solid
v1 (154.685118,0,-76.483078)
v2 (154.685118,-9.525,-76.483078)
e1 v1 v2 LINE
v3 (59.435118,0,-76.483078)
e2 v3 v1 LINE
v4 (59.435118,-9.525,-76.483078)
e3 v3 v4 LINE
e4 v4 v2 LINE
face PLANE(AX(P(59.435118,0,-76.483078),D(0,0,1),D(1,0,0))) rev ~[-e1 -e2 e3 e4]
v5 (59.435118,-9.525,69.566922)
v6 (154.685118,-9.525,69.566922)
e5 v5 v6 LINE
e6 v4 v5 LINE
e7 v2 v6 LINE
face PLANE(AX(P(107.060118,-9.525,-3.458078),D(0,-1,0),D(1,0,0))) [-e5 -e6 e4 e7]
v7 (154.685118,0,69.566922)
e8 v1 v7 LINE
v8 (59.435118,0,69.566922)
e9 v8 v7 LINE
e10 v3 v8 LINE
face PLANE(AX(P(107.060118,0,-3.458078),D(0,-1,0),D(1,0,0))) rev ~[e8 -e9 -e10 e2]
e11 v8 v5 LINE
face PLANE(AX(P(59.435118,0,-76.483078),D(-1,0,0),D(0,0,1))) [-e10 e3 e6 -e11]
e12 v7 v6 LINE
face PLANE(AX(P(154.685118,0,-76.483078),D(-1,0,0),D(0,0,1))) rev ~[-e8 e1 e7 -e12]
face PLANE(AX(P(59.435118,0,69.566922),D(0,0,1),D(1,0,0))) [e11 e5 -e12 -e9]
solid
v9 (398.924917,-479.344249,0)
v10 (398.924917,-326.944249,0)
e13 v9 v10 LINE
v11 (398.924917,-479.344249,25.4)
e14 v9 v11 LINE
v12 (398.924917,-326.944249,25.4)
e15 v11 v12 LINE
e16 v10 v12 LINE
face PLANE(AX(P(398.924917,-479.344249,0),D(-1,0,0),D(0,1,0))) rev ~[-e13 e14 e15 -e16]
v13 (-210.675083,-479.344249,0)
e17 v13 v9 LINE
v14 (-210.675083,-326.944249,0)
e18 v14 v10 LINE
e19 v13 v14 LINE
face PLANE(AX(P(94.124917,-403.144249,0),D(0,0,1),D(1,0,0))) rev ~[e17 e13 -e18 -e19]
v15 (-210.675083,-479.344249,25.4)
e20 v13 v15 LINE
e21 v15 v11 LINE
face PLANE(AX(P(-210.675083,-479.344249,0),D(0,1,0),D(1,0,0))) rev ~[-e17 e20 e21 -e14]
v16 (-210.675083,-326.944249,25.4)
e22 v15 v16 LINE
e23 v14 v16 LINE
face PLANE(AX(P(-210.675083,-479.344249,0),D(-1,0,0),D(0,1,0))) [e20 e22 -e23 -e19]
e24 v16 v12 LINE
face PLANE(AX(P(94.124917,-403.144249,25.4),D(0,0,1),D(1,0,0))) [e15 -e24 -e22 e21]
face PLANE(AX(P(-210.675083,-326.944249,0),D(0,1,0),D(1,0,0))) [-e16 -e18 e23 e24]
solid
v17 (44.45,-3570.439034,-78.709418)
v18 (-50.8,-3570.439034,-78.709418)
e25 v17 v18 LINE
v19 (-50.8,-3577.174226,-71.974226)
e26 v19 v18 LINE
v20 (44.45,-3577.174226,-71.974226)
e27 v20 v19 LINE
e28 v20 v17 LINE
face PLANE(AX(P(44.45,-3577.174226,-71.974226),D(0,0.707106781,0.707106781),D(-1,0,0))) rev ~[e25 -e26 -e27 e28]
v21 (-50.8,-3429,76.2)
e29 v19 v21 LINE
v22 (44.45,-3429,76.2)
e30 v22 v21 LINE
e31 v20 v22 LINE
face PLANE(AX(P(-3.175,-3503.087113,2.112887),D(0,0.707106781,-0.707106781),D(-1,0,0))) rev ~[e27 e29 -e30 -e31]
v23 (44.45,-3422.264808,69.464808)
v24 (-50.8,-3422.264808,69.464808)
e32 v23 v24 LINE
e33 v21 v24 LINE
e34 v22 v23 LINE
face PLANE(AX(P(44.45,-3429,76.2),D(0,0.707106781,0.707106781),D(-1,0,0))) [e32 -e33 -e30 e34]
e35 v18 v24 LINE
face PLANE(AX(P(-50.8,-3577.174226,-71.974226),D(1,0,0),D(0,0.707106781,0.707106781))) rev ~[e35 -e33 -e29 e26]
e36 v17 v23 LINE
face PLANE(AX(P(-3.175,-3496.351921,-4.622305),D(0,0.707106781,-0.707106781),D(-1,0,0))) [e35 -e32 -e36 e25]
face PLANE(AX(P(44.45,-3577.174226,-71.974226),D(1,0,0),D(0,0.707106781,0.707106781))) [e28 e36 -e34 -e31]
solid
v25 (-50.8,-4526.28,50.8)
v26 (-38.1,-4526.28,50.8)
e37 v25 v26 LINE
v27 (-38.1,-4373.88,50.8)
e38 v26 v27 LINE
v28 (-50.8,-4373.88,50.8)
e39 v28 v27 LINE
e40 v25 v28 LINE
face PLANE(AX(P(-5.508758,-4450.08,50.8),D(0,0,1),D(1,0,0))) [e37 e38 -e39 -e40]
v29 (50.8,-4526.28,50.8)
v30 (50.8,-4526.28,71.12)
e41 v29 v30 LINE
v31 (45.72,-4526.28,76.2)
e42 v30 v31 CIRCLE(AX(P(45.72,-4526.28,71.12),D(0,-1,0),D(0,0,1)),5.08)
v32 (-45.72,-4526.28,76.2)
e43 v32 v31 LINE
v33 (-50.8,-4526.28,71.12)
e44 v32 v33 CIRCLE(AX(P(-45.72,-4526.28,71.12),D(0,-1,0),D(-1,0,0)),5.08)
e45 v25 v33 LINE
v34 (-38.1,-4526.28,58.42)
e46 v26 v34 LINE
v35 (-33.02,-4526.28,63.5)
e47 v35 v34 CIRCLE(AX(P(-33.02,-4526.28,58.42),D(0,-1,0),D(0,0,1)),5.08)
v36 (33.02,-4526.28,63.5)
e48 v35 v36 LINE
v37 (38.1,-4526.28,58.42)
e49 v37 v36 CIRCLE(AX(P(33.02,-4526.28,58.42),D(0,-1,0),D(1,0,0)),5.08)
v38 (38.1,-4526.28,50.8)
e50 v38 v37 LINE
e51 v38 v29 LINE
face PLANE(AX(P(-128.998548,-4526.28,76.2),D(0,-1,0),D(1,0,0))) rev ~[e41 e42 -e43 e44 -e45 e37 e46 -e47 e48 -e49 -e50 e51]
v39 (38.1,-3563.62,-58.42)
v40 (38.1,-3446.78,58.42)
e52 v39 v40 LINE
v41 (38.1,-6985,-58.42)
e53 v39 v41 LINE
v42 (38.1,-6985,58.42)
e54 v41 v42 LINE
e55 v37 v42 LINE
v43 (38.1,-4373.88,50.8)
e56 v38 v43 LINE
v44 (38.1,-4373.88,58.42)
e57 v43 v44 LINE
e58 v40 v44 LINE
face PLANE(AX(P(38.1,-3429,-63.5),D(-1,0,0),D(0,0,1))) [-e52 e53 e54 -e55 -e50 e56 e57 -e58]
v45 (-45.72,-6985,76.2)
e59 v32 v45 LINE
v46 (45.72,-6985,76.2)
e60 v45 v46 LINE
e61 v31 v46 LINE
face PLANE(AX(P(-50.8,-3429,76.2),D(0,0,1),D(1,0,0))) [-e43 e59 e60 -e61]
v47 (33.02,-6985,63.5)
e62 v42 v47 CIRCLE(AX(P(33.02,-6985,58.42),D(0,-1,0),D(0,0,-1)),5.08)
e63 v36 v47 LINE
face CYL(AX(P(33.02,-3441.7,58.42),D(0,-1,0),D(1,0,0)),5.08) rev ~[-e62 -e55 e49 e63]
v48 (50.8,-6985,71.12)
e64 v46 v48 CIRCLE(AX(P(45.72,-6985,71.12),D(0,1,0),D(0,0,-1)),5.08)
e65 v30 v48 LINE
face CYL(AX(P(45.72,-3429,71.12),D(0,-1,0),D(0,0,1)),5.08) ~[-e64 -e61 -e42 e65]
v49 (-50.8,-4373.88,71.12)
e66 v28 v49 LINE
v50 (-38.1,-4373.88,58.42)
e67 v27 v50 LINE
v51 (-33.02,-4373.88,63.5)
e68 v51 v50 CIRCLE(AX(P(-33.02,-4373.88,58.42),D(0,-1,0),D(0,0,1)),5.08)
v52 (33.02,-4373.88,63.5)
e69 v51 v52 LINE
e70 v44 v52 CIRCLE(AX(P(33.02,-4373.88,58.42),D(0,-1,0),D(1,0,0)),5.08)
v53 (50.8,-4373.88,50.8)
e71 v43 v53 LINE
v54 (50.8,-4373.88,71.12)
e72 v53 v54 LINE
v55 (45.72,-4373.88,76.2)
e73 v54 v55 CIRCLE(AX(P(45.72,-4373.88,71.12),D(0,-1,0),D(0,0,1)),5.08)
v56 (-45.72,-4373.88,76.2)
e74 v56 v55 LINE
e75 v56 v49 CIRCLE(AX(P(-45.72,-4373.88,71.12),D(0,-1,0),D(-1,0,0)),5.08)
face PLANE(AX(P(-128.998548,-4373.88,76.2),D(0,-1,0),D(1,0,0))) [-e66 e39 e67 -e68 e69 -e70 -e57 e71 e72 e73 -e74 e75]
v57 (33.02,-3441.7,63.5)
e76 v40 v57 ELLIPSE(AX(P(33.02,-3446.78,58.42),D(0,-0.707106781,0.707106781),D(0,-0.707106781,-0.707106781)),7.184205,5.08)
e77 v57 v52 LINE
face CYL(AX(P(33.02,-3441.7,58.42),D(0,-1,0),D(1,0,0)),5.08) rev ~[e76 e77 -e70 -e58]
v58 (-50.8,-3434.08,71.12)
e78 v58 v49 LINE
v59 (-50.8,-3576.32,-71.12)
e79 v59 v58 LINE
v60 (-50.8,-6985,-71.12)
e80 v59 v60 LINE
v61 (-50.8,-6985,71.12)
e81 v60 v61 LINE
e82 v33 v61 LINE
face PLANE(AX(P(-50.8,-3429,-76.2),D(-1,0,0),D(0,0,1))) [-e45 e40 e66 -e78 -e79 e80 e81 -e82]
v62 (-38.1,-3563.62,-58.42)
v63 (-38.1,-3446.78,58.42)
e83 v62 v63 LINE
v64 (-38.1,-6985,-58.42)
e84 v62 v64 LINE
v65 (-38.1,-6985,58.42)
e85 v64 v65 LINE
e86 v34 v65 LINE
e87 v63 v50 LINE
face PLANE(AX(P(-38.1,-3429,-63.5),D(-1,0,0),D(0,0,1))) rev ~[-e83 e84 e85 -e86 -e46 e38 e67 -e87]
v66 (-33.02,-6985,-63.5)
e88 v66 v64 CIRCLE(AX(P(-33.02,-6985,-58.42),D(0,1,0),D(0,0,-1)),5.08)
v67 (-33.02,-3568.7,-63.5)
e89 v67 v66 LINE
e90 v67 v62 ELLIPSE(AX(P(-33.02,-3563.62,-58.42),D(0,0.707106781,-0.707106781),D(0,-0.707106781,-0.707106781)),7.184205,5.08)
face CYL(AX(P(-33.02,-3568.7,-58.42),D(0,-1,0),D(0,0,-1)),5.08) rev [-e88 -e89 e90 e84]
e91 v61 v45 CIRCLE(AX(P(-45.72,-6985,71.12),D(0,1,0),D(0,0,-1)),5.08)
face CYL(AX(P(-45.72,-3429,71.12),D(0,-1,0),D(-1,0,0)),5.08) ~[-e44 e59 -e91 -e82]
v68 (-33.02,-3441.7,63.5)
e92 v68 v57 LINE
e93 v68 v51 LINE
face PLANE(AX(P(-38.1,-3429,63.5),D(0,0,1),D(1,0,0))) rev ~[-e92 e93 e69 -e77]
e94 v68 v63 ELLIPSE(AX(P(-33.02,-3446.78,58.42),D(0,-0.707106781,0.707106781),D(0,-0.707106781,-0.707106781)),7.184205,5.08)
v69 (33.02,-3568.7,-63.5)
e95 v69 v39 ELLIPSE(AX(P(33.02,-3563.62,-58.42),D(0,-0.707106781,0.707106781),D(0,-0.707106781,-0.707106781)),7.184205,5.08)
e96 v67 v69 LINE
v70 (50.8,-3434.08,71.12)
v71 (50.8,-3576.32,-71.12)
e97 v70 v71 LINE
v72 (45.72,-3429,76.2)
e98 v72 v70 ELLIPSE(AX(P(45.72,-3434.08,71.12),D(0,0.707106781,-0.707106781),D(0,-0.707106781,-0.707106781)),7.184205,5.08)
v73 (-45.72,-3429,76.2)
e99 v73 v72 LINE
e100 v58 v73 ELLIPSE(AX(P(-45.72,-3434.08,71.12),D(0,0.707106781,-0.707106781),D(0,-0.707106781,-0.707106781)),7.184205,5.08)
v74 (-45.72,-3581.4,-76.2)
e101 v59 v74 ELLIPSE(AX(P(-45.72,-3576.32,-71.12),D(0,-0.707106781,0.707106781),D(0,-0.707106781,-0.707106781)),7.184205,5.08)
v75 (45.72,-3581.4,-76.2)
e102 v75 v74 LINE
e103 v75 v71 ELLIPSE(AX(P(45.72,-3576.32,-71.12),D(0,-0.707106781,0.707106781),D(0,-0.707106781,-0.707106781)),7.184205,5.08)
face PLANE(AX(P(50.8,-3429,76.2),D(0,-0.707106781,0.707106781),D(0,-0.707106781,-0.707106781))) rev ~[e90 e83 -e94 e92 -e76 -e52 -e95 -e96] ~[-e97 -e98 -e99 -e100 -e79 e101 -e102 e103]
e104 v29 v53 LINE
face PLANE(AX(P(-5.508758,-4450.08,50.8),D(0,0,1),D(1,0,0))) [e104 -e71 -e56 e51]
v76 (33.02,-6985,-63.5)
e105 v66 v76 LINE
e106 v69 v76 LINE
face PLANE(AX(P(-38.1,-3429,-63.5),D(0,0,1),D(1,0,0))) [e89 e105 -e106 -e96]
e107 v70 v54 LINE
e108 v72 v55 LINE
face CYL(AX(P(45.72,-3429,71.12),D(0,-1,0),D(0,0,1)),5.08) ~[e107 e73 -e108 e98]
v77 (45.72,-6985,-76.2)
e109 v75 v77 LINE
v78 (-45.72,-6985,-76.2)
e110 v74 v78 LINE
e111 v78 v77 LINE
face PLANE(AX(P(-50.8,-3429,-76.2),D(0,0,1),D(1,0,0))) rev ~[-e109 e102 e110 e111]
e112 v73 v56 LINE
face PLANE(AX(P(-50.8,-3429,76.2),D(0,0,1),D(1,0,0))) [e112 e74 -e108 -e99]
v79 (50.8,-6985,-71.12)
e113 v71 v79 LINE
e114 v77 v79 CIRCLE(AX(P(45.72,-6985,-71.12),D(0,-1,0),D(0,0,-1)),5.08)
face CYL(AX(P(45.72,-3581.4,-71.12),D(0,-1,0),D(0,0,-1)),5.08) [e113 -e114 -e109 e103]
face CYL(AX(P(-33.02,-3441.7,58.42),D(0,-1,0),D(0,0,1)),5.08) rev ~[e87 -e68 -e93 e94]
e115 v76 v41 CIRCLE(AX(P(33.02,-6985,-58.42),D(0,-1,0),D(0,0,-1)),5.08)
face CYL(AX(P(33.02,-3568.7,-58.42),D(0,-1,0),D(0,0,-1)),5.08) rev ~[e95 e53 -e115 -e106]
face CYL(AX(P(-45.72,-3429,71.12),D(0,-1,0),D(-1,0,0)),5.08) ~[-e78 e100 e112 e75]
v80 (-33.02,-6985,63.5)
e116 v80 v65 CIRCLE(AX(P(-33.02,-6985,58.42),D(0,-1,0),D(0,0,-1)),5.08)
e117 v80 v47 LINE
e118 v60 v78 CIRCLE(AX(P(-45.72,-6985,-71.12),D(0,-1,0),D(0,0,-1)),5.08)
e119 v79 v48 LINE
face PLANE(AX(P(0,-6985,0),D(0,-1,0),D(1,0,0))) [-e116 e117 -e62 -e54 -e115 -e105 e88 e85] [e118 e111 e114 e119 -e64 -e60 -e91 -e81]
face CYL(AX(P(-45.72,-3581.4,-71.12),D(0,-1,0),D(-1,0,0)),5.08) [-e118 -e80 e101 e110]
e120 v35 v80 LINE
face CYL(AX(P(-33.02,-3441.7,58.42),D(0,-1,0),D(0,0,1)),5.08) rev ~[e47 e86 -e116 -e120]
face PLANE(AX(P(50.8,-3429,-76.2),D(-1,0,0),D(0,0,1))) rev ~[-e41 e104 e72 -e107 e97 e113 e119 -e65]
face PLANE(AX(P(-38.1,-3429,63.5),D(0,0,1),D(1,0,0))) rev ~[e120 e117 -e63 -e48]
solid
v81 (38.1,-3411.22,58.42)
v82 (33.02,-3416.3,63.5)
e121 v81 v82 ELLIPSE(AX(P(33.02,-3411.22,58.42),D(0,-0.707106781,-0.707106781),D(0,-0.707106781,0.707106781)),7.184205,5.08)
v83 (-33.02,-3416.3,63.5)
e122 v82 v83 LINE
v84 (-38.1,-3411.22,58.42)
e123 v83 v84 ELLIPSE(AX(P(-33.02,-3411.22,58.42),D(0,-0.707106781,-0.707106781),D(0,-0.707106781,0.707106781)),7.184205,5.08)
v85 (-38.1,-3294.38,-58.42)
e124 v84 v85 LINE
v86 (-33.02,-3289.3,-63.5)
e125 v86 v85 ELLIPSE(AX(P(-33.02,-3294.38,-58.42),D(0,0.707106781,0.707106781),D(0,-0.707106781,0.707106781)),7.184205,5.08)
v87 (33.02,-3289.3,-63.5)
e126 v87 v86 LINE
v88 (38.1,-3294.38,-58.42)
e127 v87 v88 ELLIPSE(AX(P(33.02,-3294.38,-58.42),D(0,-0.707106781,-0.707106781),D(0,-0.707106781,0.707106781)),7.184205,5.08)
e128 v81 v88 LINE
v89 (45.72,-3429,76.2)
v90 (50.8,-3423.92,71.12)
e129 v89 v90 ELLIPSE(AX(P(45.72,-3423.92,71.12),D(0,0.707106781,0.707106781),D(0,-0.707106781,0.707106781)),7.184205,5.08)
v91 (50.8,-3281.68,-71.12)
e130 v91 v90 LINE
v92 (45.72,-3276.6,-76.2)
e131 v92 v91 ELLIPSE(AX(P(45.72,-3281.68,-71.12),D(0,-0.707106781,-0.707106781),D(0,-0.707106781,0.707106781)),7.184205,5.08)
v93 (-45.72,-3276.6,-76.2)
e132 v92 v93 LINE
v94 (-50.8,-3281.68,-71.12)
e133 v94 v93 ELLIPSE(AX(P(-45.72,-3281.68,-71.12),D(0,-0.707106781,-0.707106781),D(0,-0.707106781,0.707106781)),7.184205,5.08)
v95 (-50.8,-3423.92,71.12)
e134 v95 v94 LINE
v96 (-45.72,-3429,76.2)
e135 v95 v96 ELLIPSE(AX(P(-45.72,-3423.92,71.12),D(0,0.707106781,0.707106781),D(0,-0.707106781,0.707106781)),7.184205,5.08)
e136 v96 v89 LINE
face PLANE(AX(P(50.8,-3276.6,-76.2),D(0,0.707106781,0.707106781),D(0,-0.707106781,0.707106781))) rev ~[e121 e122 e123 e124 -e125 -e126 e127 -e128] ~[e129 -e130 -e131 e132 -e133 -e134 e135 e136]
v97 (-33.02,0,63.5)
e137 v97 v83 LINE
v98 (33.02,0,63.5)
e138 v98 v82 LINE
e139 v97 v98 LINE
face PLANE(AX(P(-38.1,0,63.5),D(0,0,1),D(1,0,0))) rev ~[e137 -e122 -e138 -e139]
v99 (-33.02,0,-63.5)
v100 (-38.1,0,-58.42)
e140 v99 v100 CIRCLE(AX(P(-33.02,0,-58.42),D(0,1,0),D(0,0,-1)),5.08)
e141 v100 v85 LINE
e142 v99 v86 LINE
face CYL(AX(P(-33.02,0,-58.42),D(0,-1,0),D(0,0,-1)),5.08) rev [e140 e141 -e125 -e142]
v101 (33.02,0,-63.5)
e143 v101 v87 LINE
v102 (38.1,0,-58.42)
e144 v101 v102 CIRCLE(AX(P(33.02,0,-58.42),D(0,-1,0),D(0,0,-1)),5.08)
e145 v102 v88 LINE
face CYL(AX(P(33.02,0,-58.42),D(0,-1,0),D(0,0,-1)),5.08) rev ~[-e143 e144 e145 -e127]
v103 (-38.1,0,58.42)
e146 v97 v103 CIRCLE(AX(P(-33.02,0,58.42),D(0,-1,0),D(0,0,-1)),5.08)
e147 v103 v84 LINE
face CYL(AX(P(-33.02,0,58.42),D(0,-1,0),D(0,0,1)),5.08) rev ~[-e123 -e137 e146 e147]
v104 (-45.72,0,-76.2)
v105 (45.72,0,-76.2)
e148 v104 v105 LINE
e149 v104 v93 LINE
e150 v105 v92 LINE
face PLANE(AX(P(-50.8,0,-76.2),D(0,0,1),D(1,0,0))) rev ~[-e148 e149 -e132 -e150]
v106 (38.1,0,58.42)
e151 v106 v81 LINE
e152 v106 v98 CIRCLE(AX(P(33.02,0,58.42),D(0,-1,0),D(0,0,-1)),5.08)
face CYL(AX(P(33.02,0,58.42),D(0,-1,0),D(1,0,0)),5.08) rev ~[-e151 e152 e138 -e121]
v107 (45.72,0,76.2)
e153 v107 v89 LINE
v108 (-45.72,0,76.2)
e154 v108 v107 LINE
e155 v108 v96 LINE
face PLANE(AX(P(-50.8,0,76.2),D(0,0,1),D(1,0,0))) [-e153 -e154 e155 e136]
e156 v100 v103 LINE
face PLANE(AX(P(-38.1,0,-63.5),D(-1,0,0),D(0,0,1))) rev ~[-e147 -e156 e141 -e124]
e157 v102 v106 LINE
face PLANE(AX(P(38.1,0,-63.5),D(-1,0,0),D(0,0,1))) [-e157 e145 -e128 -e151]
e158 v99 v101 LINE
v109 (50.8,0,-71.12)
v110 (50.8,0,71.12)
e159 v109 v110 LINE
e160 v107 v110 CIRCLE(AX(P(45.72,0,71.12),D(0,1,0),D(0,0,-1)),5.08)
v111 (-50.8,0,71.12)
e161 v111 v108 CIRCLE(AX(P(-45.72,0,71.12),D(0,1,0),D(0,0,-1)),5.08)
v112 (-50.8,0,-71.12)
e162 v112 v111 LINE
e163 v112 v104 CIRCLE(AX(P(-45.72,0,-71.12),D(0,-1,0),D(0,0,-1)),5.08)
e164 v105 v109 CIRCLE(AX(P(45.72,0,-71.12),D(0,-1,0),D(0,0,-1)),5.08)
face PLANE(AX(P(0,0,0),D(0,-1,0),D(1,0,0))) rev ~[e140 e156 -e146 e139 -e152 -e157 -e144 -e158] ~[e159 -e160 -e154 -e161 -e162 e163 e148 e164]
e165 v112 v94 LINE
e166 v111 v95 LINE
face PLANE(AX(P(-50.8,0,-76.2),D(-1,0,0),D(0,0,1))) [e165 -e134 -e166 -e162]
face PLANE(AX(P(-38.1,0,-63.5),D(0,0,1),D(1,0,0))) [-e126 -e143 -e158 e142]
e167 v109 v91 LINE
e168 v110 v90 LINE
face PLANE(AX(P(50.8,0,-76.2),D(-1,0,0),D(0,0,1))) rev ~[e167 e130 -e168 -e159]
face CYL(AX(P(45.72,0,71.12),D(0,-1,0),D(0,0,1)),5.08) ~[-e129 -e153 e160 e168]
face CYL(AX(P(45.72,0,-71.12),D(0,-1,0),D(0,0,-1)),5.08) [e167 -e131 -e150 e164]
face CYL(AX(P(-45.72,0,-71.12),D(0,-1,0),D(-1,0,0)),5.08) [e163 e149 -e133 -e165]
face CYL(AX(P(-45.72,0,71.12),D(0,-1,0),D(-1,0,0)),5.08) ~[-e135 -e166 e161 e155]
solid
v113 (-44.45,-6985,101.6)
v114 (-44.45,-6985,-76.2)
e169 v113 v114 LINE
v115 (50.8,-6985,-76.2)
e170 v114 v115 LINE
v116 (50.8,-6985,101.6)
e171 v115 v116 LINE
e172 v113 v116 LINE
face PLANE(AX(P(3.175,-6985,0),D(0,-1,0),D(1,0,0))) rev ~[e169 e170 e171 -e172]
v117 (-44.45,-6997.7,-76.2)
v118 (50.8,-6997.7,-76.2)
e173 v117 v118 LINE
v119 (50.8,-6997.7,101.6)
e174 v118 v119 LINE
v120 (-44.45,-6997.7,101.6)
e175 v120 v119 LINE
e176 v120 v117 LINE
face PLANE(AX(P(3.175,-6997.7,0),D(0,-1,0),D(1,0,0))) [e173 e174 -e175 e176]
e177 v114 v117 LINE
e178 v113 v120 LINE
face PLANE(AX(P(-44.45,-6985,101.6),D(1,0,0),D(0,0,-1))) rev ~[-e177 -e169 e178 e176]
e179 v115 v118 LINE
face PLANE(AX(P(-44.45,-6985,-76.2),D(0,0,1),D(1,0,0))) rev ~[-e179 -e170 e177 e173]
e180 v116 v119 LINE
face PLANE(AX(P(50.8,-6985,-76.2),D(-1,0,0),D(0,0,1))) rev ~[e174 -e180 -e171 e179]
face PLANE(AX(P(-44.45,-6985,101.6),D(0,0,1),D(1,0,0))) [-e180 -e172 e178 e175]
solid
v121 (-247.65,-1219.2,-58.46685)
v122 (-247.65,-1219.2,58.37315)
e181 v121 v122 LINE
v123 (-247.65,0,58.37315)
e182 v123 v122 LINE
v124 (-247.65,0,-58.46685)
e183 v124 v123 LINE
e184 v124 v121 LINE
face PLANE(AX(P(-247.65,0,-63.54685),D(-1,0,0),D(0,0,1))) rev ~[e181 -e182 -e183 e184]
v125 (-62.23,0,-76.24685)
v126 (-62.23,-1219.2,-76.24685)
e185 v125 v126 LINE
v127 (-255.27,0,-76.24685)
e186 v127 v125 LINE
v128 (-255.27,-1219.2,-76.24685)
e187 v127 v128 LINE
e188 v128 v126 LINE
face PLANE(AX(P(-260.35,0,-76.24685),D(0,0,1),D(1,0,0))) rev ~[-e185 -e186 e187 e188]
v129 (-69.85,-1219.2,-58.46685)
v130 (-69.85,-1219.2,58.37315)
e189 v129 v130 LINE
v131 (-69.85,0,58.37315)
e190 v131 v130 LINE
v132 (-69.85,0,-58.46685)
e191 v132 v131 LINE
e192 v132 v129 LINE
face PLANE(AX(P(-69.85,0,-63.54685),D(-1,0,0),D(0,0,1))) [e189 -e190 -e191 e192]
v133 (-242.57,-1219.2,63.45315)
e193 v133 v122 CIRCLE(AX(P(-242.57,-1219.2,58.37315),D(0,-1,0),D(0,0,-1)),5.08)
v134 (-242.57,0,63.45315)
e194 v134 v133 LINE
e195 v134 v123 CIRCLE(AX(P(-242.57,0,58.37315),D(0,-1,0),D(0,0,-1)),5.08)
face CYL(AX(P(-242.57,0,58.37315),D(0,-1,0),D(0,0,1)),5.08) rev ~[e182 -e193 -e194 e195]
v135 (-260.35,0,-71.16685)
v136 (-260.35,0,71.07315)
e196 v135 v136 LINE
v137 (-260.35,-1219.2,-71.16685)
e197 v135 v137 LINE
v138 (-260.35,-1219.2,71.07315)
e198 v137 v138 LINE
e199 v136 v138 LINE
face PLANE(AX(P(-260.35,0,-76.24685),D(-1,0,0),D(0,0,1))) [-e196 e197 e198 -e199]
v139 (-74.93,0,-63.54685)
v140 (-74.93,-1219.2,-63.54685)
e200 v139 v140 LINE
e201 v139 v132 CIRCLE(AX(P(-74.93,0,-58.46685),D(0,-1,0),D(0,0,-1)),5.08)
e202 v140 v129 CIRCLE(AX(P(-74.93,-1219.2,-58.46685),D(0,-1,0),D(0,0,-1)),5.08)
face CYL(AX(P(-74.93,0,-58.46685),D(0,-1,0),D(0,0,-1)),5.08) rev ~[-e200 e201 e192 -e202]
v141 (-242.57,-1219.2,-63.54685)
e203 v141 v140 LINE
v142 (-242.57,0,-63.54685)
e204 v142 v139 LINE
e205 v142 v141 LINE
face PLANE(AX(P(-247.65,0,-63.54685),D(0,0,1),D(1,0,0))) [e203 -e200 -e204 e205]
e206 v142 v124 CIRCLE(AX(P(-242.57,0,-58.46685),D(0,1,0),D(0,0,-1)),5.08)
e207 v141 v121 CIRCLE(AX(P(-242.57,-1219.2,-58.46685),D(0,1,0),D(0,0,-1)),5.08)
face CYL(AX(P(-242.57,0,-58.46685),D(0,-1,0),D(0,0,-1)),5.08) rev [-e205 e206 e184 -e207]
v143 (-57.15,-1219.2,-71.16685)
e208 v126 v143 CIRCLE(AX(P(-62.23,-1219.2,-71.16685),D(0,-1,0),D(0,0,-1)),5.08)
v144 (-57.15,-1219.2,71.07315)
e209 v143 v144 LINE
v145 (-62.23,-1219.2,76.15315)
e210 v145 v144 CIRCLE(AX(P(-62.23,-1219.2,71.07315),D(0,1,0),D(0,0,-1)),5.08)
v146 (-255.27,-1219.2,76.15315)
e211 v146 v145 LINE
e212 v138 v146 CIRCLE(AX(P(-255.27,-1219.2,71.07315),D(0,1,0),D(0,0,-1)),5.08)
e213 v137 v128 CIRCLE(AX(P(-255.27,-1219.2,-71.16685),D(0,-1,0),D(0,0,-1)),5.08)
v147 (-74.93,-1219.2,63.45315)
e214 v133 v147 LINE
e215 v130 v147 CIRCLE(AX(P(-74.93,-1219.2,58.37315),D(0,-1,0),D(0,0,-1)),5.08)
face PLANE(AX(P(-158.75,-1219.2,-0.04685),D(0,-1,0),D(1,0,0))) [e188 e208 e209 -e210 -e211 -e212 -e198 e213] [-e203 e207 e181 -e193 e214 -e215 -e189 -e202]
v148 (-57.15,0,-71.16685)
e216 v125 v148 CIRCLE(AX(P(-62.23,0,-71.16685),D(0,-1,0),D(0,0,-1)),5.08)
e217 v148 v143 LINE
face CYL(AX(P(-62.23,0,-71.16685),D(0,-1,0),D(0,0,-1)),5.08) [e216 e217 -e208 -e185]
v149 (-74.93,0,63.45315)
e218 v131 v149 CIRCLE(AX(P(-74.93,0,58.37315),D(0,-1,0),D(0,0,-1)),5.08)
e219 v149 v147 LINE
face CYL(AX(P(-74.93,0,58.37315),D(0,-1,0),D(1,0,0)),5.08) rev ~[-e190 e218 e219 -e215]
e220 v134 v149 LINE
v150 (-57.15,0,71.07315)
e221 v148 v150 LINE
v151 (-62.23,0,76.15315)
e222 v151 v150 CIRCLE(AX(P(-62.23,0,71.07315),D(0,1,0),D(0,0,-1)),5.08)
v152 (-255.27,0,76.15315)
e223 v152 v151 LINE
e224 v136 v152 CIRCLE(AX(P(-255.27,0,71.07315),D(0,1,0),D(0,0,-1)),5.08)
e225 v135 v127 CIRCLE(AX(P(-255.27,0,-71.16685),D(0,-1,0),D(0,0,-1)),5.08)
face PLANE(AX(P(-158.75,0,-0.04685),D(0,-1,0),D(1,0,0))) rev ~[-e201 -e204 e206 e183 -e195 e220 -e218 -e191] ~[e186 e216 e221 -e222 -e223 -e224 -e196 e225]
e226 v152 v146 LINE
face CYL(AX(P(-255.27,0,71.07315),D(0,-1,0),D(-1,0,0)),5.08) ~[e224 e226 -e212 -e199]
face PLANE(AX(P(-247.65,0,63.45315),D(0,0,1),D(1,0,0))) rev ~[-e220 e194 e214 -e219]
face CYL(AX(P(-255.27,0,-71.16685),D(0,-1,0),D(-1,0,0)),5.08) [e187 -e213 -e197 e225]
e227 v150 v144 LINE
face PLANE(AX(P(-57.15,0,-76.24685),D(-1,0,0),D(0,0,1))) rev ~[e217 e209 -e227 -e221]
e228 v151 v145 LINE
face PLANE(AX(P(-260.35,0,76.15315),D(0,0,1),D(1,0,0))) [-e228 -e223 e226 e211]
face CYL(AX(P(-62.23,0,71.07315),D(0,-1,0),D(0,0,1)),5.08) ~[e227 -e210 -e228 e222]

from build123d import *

# Parameters (mm, degrees)
F1_W      = 203.2
F1_H      = 152.4
F1_W_2    = 177.8
F1_H_2    = 127
F3_DEPTH  = 1219.2
F0_W      = 101.6
F0_H      = 152.4
F0_W_2    = 76.2
F0_H_2    = 127
F4_DEPTH  = 3429
F2_W      = 95.25
F2_H      = 146.05
F5_DEPTH  = 9.525
F6_DEPTH  = 3556
F9_DEPTH  = 311.151
F10_DEPTH = 311.151
F11_W     = 95.25
F11_H     = 209.55
F11_W_2   = 76.2
F11_H_2   = 179.6051224214
F12_DEPTH = 9.525
F13_W     = 95.25
F13_H     = 152.4
F13_W_2   = 76.2
F13_H_2   = 127
F13_H_3   = 25.4
F14_DEPTH = 12.7
F15_R     = 5.08
F15_2_R   = 5.08
F15_3_R   = 5.08
F16_W     = 609.6
F16_H     = 152.4
F17_DEPTH = 25.4
F18_W     = 246.9795793295
F18_H     = 152.4
F19_DEPTH = 25.4


with BuildPart() as f3:
    # F1 (on Front) → F3 (new body)
    with BuildSketch(Plane.XZ):
        with Locations((-158.75, -0.0468501925)):
            Rectangle(F1_W, F1_H)
        with Locations((-158.75, -0.0468501925)):
            Rectangle(F1_W_2, F1_H_2, mode=Mode.SUBTRACT)
    extrude(amount=F3_DEPTH)

    # F15#3
    f15_3_edges = [f3.edges().sort_by_distance(p)[0] for p in [
        (-69.85, -609.6, 63.45315),
        (-69.85, -609.6, -63.54685),
        (-247.65, -609.6, -63.54685),
        (-247.65, -609.6, 63.45315),
        (-57.15, -609.6, -76.24685),
        (-260.35, -609.6, -76.24685),
        (-260.35, -609.6, 76.15315),
        (-57.15, -609.6, 76.15315),
    ]]
    fillet(f15_3_edges, radius=F15_3_R)


with BuildPart() as f4:
    # F0 (on Front) → F4 (new body)
    with BuildSketch(Plane.XZ):
        Rectangle(F0_W, F0_H)
        Rectangle(F0_W_2, F0_H_2, mode=Mode.SUBTRACT)
    extrude(amount=F4_DEPTH)


with BuildPart() as f5:
    # F2 (on Front) → F5 (new body)
    with BuildSketch(Plane.XZ):
        with Locations((107.0601179898, -3.458078301)):
            Rectangle(F2_W, F2_H)
    extrude(amount=F5_DEPTH)


with BuildPart() as f6:
    # F6 (new): a face of the model
    f6_faces = [f4.part.faces().sort_by_distance(p)[0] for p in [
        (0, -3429, -74.3683799521),
    ]]
    extrude(f6_faces, amount=F6_DEPTH)

    # F7 (on face) → F10 (cut, through all)
    with BuildSketch(Plane.YZ.offset(50.8)):
        Polygon((-3429, -76.2), (-3429, 76.2), (-3581.4, -76.2), align=None)
    extrude(amount=-F10_DEPTH, mode=Mode.SUBTRACT)

    # F15#2
    f15_2_edges = [f6.edges().sort_by_distance(p)[0] for p in [
        (50.8, -5283.2, -76.2),
        (-50.8, -5283.2, -76.2),
        (50.8, -5207, 76.2),
        (-50.8, -5207, 76.2),
        (-38.1, -5213.35, 63.5),
        (38.1, -5213.35, 63.5),
        (38.1, -5276.85, -63.5),
        (-38.1, -5276.85, -63.5),
    ]]
    fillet(f15_2_edges, radius=F15_2_R)

    # F18 (on face) → F19 (cut)
    with BuildSketch(Plane.XY.offset(76.2)):
        with Locations((-5.5087581277, -4450.08)):
            Rectangle(F18_W, F18_H)
    extrude(amount=-F19_DEPTH, mode=Mode.SUBTRACT)


with BuildPart() as f4_1:
    add(f4.part)

    # F8 (on face) → F9 (cut, through all)
    with BuildSketch(Plane.YZ.offset(50.8)):
        Polygon((-3276.6, -76.2), (-3429, 76.2), (-3429, -76.2), align=None)
    extrude(amount=-F9_DEPTH, mode=Mode.SUBTRACT)

    # F15
    f15_edges = [f4_1.edges().sort_by_distance(p)[0] for p in [
        (-50.8, -1714.5, 76.2),
        (-50.8, -1638.3, -76.2),
        (50.8, -1638.3, -76.2),
        (50.8, -1714.5, 76.2),
        (-38.1, -1708.15, 63.5),
        (38.1, -1708.15, 63.5),
        (38.1, -1644.65, -63.5),
        (-38.1, -1644.65, -63.5),
    ]]
    fillet(f15_edges, radius=F15_R)


with BuildPart() as f12:
    # F11 (on face) → F12 (new body)
    with BuildSketch(Plane(origin=(0, -1752.6, 1752.6), x_dir=(-1, 0, 0), z_dir=(0, 0.7071067812, -0.7071067812))):
        with Locations((3.175, -2475.5626159623)):
            Rectangle(F11_W, F11_H)
        with Locations((0, -2478.5506894151)):
            Rectangle(F11_W_2, F11_H_2, mode=Mode.SUBTRACT)
        with Locations((0, -2478.5506894151)):
            Rectangle(F11_W_2, F11_H_2)
    extrude(amount=F12_DEPTH)


with BuildPart() as f14:
    # F13 (on face) → F14 (new body)
    with BuildSketch(Plane.XZ.offset(6985)):
        with Locations((3.175, 0)):
            Rectangle(F13_W, F13_H)
        Rectangle(F13_W_2, F13_H_2, mode=Mode.SUBTRACT)
        Rectangle(F13_W_2, F13_H_2)
        with Locations((3.175, 88.9)):
            Rectangle(F13_W, F13_H_3)
    extrude(amount=F14_DEPTH)


with BuildPart() as f17:
    # F16 (on Top) → F17 (new body)
    with BuildSketch(Plane.XY):
        with Locations((94.1249171257, -403.1442487717)):
            Rectangle(F16_W, F16_H)
    extrude(amount=F17_DEPTH)


solid = Compound([f3.part, f5.part, f6.part, f4_1.part, f12.part, f14.part, f17.part])
